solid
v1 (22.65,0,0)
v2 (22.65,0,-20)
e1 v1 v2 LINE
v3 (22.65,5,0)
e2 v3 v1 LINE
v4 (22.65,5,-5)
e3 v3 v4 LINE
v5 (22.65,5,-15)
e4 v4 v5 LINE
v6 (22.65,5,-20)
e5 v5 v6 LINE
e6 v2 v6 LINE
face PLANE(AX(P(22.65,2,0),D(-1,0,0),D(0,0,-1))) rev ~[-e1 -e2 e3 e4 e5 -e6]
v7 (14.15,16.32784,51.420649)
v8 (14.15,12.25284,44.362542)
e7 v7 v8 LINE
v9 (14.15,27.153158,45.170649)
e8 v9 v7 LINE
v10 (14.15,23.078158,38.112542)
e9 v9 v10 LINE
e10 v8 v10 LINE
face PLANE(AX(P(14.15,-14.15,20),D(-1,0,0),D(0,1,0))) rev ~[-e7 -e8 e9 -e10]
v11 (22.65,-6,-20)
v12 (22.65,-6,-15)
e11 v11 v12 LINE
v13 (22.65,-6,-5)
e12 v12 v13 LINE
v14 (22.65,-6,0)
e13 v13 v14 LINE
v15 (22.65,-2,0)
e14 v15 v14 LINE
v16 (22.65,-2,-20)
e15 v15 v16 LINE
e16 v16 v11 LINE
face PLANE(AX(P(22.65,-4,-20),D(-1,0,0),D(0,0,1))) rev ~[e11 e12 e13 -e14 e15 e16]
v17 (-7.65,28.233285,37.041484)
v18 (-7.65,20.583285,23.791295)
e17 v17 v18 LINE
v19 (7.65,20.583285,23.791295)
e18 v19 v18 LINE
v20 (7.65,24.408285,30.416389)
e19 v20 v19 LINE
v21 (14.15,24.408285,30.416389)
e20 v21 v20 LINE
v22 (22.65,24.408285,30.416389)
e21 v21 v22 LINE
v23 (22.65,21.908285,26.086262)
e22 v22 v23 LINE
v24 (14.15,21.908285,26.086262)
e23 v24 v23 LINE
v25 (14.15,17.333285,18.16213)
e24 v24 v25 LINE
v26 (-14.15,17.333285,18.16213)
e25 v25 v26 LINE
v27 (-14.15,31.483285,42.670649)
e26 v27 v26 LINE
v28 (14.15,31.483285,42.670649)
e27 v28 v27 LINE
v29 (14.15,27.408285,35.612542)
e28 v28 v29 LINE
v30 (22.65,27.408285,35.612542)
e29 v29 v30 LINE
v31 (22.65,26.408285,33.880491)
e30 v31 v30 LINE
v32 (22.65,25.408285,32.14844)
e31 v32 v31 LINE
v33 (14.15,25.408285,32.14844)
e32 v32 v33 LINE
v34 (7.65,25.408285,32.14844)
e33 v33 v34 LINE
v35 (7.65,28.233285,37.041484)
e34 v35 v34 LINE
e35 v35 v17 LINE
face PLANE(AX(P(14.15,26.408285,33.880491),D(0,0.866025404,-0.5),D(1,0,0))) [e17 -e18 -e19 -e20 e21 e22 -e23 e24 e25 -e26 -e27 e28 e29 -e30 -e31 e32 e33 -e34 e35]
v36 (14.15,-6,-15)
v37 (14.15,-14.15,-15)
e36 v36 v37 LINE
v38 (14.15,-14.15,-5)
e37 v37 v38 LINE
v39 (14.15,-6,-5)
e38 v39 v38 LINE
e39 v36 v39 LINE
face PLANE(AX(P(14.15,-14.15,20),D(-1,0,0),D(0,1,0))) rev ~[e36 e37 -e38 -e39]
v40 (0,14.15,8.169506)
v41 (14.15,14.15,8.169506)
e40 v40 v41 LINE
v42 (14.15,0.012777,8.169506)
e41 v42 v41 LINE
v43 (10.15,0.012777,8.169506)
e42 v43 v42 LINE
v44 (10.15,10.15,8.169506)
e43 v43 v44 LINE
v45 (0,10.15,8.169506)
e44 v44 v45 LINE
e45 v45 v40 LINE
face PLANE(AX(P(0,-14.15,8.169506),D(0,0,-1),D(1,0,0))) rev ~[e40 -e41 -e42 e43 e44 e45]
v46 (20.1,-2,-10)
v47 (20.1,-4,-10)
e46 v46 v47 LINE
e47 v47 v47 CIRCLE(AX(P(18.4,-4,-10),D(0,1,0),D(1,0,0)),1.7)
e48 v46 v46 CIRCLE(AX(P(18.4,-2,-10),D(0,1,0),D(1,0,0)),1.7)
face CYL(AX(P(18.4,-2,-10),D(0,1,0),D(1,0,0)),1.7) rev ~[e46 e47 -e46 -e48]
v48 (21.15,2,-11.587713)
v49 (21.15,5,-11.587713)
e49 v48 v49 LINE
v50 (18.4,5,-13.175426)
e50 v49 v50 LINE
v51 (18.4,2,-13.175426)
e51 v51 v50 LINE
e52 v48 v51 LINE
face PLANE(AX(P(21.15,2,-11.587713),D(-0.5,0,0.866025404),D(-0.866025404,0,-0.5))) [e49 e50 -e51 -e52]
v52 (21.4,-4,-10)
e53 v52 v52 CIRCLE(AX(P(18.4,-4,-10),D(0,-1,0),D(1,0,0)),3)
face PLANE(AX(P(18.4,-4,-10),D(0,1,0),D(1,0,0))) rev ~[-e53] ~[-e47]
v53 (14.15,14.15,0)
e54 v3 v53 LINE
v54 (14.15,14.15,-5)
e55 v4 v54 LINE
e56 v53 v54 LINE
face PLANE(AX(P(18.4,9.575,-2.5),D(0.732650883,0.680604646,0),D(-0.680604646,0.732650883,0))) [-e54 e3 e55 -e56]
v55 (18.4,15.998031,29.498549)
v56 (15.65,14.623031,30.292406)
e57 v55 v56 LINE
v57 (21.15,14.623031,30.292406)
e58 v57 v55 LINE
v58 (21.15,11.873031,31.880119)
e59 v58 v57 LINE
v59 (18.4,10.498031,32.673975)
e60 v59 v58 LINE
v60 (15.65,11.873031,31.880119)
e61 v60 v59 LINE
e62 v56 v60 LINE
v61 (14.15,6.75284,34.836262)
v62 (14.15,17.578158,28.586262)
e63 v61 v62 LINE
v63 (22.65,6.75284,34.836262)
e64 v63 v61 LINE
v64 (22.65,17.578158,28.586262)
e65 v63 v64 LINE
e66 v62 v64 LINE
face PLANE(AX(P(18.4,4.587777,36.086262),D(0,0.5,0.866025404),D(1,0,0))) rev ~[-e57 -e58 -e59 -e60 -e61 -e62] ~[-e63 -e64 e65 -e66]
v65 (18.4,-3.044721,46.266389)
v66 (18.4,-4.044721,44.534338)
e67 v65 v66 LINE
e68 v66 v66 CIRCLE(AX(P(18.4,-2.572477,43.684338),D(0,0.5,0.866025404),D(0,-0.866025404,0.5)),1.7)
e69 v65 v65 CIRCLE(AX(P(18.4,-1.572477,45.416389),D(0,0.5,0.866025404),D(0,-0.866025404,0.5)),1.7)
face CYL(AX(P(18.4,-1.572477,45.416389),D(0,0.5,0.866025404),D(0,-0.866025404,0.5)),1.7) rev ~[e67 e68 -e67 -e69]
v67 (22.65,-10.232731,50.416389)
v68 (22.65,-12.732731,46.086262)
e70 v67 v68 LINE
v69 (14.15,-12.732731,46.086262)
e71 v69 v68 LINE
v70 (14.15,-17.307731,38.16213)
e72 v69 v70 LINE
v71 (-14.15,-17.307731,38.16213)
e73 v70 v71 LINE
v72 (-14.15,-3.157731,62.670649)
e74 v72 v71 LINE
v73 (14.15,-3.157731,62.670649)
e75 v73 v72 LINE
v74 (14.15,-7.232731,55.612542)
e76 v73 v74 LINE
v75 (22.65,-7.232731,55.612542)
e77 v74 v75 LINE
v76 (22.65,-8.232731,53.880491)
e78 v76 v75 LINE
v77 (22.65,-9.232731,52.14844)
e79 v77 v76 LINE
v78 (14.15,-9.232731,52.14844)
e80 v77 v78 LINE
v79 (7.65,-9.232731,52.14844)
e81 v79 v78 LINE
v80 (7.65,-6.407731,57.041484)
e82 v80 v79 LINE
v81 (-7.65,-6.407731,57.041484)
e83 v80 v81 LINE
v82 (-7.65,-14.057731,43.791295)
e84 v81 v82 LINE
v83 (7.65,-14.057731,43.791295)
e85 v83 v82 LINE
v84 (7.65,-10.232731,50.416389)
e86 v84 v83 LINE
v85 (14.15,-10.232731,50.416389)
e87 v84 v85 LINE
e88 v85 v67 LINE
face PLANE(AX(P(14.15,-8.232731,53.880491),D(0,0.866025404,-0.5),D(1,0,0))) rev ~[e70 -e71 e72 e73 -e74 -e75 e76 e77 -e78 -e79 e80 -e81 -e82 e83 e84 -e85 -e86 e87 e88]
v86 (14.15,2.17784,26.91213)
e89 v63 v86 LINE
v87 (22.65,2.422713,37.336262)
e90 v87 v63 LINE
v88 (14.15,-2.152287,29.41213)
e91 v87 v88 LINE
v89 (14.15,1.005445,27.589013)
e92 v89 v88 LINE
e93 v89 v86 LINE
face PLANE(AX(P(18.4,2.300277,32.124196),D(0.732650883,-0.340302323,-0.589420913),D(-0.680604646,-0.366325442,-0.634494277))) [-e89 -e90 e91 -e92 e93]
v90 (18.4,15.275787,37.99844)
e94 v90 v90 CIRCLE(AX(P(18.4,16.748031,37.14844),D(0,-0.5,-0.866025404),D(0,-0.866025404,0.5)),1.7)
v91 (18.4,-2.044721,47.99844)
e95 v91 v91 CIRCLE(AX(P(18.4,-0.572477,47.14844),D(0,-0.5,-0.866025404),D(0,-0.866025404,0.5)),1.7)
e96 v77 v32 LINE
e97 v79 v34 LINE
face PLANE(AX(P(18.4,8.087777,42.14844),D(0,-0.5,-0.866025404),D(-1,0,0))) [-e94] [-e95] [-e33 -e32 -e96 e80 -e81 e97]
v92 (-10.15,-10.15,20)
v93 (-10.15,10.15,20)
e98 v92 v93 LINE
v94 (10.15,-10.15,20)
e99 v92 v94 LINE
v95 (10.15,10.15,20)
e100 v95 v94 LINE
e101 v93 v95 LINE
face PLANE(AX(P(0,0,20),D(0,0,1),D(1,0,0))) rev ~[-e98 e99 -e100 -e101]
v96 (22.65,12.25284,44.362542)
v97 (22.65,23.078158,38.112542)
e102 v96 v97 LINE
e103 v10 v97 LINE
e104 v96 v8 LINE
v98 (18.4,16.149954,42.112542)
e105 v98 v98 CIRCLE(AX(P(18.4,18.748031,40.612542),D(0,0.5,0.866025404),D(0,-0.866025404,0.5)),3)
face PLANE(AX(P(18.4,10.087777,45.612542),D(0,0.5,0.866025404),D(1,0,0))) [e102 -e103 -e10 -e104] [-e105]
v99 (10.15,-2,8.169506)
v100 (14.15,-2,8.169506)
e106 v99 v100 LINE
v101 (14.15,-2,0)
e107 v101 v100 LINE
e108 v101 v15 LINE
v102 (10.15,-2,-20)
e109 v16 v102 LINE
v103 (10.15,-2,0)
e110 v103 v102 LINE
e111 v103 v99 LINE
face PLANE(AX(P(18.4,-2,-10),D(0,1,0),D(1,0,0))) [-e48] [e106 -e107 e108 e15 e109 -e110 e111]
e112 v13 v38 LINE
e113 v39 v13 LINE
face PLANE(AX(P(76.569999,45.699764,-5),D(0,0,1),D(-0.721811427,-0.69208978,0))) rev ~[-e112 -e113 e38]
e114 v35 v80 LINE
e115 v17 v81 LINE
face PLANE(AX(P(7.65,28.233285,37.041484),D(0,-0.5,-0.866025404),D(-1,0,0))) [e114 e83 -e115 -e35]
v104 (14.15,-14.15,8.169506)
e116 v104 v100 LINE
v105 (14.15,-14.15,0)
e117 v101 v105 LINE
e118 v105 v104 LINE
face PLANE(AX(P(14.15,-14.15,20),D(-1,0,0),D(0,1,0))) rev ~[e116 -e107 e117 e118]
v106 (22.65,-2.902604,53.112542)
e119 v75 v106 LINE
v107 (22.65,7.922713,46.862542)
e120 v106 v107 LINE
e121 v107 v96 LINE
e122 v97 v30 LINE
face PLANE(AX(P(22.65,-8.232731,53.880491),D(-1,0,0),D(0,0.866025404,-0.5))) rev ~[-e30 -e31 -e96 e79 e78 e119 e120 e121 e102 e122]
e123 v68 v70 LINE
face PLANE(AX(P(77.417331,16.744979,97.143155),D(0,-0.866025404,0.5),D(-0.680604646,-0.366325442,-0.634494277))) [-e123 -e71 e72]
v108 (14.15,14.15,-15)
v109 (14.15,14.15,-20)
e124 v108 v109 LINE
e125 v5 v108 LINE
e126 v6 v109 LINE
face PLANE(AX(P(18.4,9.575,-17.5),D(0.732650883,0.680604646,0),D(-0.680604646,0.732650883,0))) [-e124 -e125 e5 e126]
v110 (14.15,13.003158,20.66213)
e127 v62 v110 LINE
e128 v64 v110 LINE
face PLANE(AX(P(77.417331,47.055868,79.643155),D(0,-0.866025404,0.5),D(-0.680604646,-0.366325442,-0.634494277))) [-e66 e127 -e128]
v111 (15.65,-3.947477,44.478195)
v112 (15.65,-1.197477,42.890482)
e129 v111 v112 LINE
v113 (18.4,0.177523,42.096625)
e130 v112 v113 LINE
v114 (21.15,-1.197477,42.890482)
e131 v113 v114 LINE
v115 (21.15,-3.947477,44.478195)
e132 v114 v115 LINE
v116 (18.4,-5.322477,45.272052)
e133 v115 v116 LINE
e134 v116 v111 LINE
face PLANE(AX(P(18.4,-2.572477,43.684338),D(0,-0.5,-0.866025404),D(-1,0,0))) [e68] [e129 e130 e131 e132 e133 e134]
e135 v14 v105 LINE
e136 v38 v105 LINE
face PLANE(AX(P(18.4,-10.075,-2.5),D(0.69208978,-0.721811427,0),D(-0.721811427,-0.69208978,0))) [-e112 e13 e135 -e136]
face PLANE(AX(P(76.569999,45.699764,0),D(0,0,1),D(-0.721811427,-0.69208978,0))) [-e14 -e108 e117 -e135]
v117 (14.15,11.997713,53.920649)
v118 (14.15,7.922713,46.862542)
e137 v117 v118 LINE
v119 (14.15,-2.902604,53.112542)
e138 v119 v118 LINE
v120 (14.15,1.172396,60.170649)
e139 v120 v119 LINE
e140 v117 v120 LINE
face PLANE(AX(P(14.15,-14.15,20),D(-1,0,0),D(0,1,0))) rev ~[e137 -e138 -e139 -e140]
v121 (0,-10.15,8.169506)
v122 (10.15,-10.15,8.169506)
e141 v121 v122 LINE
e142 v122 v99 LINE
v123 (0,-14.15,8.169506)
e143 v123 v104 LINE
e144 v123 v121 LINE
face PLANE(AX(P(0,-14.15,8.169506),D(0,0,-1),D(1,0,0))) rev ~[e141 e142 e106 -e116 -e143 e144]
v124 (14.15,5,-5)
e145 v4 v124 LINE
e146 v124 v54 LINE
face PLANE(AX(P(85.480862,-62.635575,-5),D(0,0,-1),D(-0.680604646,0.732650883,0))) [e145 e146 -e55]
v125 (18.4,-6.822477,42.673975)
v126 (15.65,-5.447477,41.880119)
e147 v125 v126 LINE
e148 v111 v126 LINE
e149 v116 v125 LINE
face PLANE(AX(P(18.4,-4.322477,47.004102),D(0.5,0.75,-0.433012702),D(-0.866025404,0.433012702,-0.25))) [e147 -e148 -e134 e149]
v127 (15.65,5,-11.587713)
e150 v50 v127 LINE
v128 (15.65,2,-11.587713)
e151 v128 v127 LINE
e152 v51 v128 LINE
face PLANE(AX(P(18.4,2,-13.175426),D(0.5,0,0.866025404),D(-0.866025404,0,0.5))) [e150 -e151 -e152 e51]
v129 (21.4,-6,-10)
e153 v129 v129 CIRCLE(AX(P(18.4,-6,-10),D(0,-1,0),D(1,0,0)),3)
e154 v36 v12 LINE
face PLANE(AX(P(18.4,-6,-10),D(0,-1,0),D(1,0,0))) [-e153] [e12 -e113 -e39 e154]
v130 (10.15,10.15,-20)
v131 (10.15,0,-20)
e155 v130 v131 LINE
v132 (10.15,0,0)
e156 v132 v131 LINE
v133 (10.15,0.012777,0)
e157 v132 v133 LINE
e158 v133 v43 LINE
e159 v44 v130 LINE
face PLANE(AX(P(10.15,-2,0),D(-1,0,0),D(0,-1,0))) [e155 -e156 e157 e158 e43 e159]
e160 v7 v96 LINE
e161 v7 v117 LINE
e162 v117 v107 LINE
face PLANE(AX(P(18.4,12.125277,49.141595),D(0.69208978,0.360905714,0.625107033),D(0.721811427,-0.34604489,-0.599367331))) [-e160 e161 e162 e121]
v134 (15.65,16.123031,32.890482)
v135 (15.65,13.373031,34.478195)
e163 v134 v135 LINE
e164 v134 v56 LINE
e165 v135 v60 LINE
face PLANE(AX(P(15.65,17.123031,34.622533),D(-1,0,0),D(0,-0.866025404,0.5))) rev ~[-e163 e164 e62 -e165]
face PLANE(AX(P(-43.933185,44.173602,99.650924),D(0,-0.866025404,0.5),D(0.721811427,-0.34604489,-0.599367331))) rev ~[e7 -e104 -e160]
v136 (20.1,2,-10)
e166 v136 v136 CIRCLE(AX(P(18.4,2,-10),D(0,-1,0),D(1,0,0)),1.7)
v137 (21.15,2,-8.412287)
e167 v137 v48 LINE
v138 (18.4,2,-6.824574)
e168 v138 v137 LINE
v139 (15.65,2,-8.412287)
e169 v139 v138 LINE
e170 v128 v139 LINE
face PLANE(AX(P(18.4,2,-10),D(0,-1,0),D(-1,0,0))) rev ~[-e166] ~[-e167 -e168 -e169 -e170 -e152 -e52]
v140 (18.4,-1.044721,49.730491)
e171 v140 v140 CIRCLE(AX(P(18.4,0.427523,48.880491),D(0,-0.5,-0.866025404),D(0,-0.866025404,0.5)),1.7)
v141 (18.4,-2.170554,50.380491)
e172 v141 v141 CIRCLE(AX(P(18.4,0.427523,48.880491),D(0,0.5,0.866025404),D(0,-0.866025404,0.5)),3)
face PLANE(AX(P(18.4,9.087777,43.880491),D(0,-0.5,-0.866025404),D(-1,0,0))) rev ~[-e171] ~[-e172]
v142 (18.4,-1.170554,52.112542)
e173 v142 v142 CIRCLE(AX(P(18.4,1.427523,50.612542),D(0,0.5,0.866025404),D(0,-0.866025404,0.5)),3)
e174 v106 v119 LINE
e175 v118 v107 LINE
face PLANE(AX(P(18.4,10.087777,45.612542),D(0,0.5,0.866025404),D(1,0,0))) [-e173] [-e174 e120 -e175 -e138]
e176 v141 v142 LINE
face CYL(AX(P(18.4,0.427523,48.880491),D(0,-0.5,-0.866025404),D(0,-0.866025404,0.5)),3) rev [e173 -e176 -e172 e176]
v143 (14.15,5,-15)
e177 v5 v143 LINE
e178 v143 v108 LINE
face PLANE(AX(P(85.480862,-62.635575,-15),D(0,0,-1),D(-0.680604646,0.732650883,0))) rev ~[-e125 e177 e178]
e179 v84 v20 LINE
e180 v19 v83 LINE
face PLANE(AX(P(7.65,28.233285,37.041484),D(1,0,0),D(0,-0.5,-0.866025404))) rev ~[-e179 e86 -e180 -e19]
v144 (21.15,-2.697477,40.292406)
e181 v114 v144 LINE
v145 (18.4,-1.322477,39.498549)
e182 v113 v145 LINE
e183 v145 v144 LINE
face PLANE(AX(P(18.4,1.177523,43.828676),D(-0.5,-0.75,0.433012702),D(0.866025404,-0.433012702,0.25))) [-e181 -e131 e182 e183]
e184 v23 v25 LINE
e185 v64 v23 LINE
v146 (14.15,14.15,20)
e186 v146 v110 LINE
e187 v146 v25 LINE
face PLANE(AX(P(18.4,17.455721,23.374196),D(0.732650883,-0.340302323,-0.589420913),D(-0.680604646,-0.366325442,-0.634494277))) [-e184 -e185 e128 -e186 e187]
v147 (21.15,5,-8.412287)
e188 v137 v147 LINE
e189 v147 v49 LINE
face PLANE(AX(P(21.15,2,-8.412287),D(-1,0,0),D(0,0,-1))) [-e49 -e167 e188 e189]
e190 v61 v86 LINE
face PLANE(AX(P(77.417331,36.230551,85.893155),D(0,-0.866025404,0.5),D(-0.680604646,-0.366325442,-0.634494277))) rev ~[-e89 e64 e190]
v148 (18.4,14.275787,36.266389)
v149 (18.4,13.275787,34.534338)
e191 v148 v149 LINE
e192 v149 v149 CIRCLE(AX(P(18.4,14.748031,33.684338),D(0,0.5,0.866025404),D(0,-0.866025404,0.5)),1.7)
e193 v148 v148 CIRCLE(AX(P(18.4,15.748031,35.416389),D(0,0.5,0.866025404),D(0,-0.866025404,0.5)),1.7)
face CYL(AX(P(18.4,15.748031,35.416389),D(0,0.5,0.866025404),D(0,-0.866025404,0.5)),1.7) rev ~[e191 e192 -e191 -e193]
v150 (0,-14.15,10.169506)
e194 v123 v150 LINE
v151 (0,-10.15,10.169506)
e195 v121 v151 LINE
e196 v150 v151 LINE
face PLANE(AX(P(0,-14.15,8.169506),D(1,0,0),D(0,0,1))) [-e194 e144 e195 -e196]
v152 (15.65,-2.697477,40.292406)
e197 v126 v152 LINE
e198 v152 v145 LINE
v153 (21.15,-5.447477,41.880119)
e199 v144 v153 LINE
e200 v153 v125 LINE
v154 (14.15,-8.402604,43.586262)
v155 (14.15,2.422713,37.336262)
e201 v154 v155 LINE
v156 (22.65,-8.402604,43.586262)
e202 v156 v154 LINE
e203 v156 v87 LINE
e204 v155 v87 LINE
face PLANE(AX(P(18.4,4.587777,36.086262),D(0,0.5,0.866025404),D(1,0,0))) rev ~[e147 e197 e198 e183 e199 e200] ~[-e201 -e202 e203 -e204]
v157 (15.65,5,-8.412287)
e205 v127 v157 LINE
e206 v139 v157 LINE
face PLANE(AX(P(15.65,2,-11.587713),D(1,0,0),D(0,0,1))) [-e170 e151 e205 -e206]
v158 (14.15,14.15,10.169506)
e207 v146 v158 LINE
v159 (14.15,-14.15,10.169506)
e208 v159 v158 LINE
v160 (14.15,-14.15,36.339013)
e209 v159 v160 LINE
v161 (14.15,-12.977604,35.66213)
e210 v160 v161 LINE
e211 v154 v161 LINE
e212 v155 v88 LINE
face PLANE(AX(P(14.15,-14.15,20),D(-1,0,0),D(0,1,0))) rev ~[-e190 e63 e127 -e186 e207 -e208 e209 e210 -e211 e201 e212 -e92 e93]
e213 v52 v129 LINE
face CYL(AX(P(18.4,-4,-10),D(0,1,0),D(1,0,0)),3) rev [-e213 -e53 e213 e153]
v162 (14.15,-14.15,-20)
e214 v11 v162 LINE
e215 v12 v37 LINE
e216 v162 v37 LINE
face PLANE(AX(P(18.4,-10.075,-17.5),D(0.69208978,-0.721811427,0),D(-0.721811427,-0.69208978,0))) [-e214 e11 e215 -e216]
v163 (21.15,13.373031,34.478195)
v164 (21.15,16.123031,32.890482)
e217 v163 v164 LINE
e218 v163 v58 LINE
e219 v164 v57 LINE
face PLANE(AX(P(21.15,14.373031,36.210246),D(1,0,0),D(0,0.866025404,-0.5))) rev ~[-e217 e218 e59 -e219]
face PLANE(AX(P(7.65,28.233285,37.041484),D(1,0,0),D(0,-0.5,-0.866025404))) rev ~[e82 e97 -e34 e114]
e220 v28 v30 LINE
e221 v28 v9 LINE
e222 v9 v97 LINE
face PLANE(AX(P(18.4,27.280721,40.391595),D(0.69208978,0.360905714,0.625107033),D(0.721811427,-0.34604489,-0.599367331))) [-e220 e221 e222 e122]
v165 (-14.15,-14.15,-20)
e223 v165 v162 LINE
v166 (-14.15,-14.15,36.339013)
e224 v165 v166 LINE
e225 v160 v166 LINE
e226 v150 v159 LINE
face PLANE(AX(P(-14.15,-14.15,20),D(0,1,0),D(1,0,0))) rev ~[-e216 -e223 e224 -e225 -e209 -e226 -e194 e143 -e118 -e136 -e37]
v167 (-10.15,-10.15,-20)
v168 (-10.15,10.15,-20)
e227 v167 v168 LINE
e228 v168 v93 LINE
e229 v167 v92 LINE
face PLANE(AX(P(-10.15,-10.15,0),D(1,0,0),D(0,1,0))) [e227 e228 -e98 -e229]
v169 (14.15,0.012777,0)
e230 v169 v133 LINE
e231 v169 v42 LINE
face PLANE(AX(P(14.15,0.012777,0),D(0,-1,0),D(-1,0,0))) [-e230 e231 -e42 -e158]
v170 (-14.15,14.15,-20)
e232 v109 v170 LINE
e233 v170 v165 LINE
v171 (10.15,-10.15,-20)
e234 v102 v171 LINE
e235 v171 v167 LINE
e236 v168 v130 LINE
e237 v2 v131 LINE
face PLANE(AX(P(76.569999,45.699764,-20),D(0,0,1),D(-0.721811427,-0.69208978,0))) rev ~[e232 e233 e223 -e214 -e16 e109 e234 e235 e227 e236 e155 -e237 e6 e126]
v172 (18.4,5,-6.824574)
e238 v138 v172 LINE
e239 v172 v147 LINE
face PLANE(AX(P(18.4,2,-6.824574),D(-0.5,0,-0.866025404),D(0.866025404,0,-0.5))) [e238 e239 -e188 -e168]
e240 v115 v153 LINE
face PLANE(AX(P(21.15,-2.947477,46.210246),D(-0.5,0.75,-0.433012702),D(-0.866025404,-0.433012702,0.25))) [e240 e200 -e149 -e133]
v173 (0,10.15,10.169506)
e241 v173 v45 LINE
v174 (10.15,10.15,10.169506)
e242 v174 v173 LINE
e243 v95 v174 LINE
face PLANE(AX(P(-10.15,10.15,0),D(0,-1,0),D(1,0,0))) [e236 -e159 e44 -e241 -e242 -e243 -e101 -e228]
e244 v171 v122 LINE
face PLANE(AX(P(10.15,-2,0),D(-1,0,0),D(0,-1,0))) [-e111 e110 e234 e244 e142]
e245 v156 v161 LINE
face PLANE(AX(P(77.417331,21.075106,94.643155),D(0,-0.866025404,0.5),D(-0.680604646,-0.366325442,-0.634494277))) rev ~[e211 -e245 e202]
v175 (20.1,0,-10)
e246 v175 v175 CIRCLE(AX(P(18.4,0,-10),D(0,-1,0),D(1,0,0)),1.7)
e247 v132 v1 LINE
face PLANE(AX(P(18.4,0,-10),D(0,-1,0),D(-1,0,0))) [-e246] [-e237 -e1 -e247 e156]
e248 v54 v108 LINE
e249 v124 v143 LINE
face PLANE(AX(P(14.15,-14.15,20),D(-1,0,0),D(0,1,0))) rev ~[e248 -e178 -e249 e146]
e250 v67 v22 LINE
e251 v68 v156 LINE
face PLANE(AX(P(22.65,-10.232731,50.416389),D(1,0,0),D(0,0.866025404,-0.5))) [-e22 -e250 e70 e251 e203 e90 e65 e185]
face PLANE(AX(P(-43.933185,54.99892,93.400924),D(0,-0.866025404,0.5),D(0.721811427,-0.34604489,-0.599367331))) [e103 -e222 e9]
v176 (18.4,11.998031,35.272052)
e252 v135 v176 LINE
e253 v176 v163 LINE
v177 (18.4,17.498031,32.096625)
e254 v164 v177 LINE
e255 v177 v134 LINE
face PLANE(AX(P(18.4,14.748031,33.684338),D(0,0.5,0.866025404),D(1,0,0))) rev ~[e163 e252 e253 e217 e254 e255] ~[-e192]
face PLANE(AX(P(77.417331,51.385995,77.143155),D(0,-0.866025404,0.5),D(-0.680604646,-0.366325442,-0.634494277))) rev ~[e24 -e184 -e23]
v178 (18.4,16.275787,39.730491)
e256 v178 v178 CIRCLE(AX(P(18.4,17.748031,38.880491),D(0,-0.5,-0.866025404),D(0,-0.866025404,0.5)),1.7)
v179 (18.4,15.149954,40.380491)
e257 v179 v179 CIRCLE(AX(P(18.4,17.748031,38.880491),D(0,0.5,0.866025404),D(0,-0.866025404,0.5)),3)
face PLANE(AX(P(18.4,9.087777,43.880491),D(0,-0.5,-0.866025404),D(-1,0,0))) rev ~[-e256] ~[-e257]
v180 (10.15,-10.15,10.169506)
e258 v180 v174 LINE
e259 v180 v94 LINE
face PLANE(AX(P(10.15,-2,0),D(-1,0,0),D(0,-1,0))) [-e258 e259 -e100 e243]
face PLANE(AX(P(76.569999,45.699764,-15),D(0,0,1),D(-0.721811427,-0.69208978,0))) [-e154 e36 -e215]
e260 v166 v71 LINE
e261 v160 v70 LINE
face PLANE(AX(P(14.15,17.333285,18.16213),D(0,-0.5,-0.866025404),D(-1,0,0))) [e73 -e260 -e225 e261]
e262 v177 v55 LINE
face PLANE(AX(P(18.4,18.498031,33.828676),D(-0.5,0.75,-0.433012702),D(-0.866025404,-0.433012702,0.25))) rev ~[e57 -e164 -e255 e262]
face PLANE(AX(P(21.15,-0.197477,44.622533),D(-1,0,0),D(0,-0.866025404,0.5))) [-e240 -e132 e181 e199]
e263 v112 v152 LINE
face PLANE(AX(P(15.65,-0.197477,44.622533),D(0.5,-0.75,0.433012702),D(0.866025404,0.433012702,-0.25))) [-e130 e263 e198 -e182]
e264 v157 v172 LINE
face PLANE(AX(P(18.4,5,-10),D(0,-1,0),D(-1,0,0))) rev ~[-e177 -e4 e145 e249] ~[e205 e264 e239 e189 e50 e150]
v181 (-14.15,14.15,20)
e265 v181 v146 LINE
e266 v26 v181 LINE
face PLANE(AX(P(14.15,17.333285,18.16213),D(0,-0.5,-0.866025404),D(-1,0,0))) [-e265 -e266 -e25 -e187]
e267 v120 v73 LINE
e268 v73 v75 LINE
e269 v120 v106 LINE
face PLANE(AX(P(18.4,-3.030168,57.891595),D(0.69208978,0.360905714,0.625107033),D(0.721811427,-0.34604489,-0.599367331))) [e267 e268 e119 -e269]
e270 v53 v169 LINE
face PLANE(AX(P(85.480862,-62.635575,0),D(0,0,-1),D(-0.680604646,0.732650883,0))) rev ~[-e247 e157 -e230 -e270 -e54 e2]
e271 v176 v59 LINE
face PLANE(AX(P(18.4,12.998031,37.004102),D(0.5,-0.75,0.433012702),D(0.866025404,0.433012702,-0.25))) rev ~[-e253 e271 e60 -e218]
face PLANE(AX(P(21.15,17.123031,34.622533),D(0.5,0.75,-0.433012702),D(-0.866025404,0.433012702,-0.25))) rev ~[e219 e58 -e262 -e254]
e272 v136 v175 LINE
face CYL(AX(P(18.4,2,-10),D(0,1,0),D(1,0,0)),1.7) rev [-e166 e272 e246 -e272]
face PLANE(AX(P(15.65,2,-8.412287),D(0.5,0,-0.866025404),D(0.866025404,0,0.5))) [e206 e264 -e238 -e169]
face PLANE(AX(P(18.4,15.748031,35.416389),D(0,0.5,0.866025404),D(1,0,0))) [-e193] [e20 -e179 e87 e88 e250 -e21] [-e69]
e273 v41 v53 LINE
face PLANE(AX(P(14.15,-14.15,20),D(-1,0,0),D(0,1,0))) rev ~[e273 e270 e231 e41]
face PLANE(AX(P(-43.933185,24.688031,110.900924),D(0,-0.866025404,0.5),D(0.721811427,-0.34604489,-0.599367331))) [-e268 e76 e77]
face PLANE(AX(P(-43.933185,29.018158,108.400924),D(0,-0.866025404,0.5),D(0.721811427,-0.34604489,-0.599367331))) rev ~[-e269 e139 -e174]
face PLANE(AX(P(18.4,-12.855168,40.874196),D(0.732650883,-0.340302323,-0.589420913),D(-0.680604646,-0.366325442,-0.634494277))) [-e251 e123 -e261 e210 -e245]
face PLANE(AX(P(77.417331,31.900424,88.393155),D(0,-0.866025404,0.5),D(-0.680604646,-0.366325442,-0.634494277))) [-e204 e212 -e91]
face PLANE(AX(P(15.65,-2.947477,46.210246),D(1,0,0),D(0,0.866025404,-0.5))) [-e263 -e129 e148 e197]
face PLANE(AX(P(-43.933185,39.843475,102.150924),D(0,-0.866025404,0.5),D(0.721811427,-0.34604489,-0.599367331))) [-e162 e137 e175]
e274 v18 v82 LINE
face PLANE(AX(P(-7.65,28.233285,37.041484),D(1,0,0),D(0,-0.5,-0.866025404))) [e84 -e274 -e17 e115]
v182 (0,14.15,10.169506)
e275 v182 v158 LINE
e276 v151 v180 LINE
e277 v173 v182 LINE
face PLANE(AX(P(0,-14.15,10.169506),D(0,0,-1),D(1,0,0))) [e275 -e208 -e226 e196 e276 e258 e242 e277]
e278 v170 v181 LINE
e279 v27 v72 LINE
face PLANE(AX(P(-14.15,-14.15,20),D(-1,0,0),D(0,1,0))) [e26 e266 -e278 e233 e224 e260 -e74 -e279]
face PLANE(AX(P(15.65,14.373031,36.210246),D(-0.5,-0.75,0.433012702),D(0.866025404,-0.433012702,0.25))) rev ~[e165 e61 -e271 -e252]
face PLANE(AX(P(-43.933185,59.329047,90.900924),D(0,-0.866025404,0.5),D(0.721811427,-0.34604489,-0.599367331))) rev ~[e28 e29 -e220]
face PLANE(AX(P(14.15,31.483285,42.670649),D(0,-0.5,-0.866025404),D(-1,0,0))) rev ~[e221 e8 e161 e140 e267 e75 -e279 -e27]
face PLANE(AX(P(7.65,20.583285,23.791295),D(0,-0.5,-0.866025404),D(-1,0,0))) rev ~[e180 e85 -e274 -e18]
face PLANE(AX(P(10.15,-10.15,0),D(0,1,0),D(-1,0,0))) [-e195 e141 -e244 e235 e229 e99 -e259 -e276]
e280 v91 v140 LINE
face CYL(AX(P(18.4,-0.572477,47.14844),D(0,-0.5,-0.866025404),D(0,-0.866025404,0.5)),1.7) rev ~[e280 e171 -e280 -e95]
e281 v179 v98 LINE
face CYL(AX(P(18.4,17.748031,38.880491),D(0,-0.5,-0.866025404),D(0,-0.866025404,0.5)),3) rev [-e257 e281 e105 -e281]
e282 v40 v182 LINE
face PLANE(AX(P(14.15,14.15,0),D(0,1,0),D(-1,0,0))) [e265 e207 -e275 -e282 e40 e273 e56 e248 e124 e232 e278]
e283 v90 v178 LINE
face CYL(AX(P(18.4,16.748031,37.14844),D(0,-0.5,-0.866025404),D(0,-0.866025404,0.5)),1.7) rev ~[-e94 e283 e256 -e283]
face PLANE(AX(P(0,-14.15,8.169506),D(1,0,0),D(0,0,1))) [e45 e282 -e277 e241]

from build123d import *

# Parameters (mm, degrees)
ESQUISSE1_W                = 28.3
ESQUISSE1_H                = 28.3
ESQUISSE1_W_2              = 20.3
ESQUISSE1_H_2              = 20.3
ESQUISSE1_W_3              = 4
ESQUISSE1_H_3              = 2
BOSS_EXTRU_1_DEPTH         = 20
BOSS_EXTRU_7_DEPTH         = 20
ESQUISSE2_W                = 8.5
ESQUISSE2_H                = 20
ESQUISSE2_R                = 1.7
BOSS_EXTRU_2_DEPTH         = 2
ESQUISSE2_3_W              = 8.5
ESQUISSE2_3_H              = 20
BOSS_EXTRU_3_DEPTH         = 3
ESQUISSE3_W                = 8.5
ESQUISSE3_H                = 20
ESQUISSE3_R                = 1.7
BOSS_EXTRU_4_DEPTH         = 2
ESQUISSE5_W                = 8.5
ESQUISSE5_H                = 20
ESQUISSE5_R                = 3
BOSS_EXTRU_5_DEPTH         = 2
BOSS_EXTRU_6_DEPTH         = 20
BOSS_EXTRU_6_DEPTH_BACK    = 20
ESQUISSE6_W                = 28.3
ESQUISSE6_H                = 28.3
ESQUISSE6_W_2              = 15.3
ESQUISSE6_H_2              = 15.3
BOSS_EXTRU_12_REACH        = 59.663
ESQUISSE20_W               = 28.3
ESQUISSE20_H               = 28.3
ENL_V_MAT_EXTRU_1_REACH    = 81.469
ESQUISSE7_W                = 6.5
ESQUISSE7_H                = 2
ENL_V_MAT_EXTRU_2_REACH    = 82.765
ESQUISSE8_W                = 14.15
ESQUISSE8_H                = 2
ESQUISSE9_W                = 8.5
ESQUISSE9_H                = 40
BOSS_EXTRU_8_DEPTH         = 5
ESQUISSE9_4_R              = 1.7
BOSS_EXTRU_9_DEPTH         = 2
ESQUISSE10_W               = 8.5
ESQUISSE10_H               = 40
ESQUISSE10_R               = 1.7
BOSS_EXTRU_10_DEPTH        = 2
ESQUISSE11_W               = 8.5
ESQUISSE11_H               = 40
ESQUISSE11_R               = 3
BOSS_EXTRU_11_DEPTH        = 2
NERVURE4_REACH             = 81.469
ESQUISSE14_WALL_W          = 172.71321229
ESQUISSE14_WALL_H          = 5
NERVURE10_REACH            = 81.469
ESQUISSE16_WALL_W          = 173.426178518
ESQUISSE16_WALL_H          = 5
R_P_TITION_LIN_AIRE1_COUNT = 3
R_P_TITION_LIN_AIRE1_PITCH = 17.5
NERVURE11_REACH            = 93.316
ESQUISSE17_WALL_W          = 197.121376998
ESQUISSE17_WALL_H          = 5
NERVURE17_REACH            = 75.701
ESQUISSE19_WALL_W          = 161.177827304
ESQUISSE19_WALL_H          = 5
R_P_TITION_LIN_AIRE2_COUNT = 2
R_P_TITION_LIN_AIRE2_PITCH = 15
R_P_TITION_LIN_AIRE3_COUNT = 2
R_P_TITION_LIN_AIRE3_PITCH = 15
ENL_V_MAT_EXTRU_3_REACH    = 75.701
ESQUISSE21_W               = 4
ESQUISSE21_H               = 2.012776607


with BuildPart() as part:
    # Esquisse1 → Boss.-Extru.1 (new body)
    # profile 1 of 2: a face of its own
    with BuildSketch(Plane.XY):
        Rectangle(ESQUISSE1_W, ESQUISSE1_H)
        Rectangle(ESQUISSE1_W_2, ESQUISSE1_H_2, mode=Mode.SUBTRACT)
    # profile 2 of 2: a face of its own
    with BuildSketch(Plane.XY):
        with Locations((12.15, -1)):
            Rectangle(ESQUISSE1_W_3, ESQUISSE1_H_3)
    extrude(amount=BOSS_EXTRU_1_DEPTH)

    # Esquisse1<3> → Boss.-Extru.7 (add)
    with BuildSketch(Plane.XY):
        Polygon((14.15, 14.15), (-14.15, 14.15), (-14.15, -14.15), (14.15, -14.15), (14.15, -2), (10.15, -2), (10.15, -10.15), (-10.15, -10.15), (-10.15, 10.15), (10.15, 10.15), (10.15, 0), (14.15, 0), align=None)
    extrude(amount=-BOSS_EXTRU_7_DEPTH)

    # Esquisse2 → Boss.-Extru.2 (add)
    with BuildSketch(Plane(origin=(0, 2, 0), x_dir=(-1, 0, 0), z_dir=(0, -1, 0))):
        with Locations((-18.4, 10)):
            Rectangle(ESQUISSE2_W, ESQUISSE2_H)
        with Locations(Location((-18.4, 10, 0), (0, 0, 180))):
            Circle(ESQUISSE2_R, mode=Mode.SUBTRACT)
    extrude(amount=BOSS_EXTRU_2_DEPTH)

    # Esquisse2<3> → Boss.-Extru.3 (add)
    with BuildSketch(Plane(origin=(0, 2, 0), x_dir=(-1, 0, 0), z_dir=(0, -1, 0))):
        with Locations((-18.4, 10)):
            Rectangle(ESQUISSE2_3_W, ESQUISSE2_3_H)
        Polygon((-15.65, 11.58771324), (-15.65, 8.41228676), (-18.4, 6.824573519), (-21.15, 8.41228676), (-21.15, 11.58771324), (-18.4, 13.175426481), align=None, mode=Mode.SUBTRACT)
    extrude(amount=-BOSS_EXTRU_3_DEPTH)

    # Esquisse3 → Boss.-Extru.4 (add)
    with BuildSketch(Plane(origin=(0, -2, 0), x_dir=(1, 0, 0), z_dir=(0, 1, 0))):
        with Locations((18.4, 10)):
            Rectangle(ESQUISSE3_W, ESQUISSE3_H)
        with Locations((18.4, 10)):
            Circle(ESQUISSE3_R, mode=Mode.SUBTRACT)
    extrude(amount=-BOSS_EXTRU_4_DEPTH)

    # Esquisse5 → Boss.-Extru.5 (add)
    with BuildSketch(Plane.XZ.offset(4)):
        with Locations((18.4, -10)):
            Rectangle(ESQUISSE5_W, ESQUISSE5_H)
        with Locations((18.4, -10)):
            Circle(ESQUISSE5_R, mode=Mode.SUBTRACT)
    extrude(amount=BOSS_EXTRU_5_DEPTH)


with BuildPart() as body_2:
    # Esquisse6 → Boss.-Extru.6 (new, two sides: drawn at the far end of the back side and taken through both)
    with BuildSketch(Plane(origin=(0, -11.88296393, 7.558102729), x_dir=(-1, 0, 0), z_dir=(0, -0.8660254037844382, 0.5000000000000011)).offset(-BOSS_EXTRU_6_DEPTH_BACK)):
        with Locations((0, -37.941481073)):
            Rectangle(ESQUISSE6_W, ESQUISSE6_H)
        with Locations((0, -37.941481073)):
            Rectangle(ESQUISSE6_W_2, ESQUISSE6_H_2, mode=Mode.SUBTRACT)
    extrude(amount=BOSS_EXTRU_6_DEPTH + BOSS_EXTRU_6_DEPTH_BACK)

    # Esquisse20 → Boss.-Extru.12 (add, up to next)
    with BuildSketch(Plane.XY.offset(20), mode=Mode.PRIVATE) as boss_extru_12_sk1:
        Rectangle(ESQUISSE20_W, ESQUISSE20_H)
    boss_extru_12_tool1 = extrude(boss_extru_12_sk1.sketch, amount=BOSS_EXTRU_12_REACH, mode=Mode.PRIVATE) - body_2.part

    add(part.part)  # Boss.-Extru.12 merges part
    add(boss_extru_12_tool1.solids().sort_by_distance((0, 0, 20))[0])

    # Esquisse7 → Enlèv. mat.-Extru.1 (cut, up to next)
    with BuildSketch(Plane(origin=(0, -29.505485507, 17.035), x_dir=(1, 0, 0), z_dir=(0, -0.866025403784438, 0.5000000000000011)), mode=Mode.PRIVATE) as enl_v_mat_extru_1_sk1:
        with Locations((10.9, 39.545508076)):
            Rectangle(ESQUISSE7_W, ESQUISSE7_H)
    enl_v_mat_extru_1_tool1 = extrude(enl_v_mat_extru_1_sk1.sketch, amount=-ENL_V_MAT_EXTRU_1_REACH, mode=Mode.PRIVATE) & body_2.part
    add(enl_v_mat_extru_1_tool1.solids().sort_by_distance((10.9, -9.732731, 51.282415))[0], mode=Mode.SUBTRACT)

    # Esquisse8 → Enlèv. mat.-Extru.2 (cut, up to next)
    with BuildSketch(Plane.XZ.offset(14.15), mode=Mode.PRIVATE) as enl_v_mat_extru_2_sk1:
        with Locations((7.075, 9.169506309)):
            Rectangle(ESQUISSE8_W, ESQUISSE8_H)
    enl_v_mat_extru_2_tool1 = extrude(enl_v_mat_extru_2_sk1.sketch, amount=-ENL_V_MAT_EXTRU_2_REACH, mode=Mode.PRIVATE) & body_2.part
    add(enl_v_mat_extru_2_tool1.solids().sort_by_distance((7.075, -14.15, 9.169506))[0], mode=Mode.SUBTRACT)

    # Esquisse9 → Boss.-Extru.8 (add)
    with BuildSketch(Plane(origin=(0, 19.272754038, 33.381389195), x_dir=(1, 0, 0), z_dir=(0, 0.5000000000000011, 0.866025403784438))):
        with Locations((18.4, -14.07)):
            Rectangle(ESQUISSE9_W, ESQUISSE9_H)
        Polygon((18.4, -7.245426481), (21.15, -5.65771324), (21.15, -2.48228676), (18.4, -0.894573519), (15.65, -2.48228676), (15.65, -5.65771324), align=None, mode=Mode.SUBTRACT)
        Polygon((18.4, -20.894573519), (21.15, -22.48228676), (21.15, -25.65771324), (18.4, -27.245426481), (15.65, -25.65771324), (15.65, -22.48228676), align=None, mode=Mode.SUBTRACT)
    extrude(amount=-BOSS_EXTRU_8_DEPTH)

    # Esquisse9<4> → Boss.-Extru.9 (add)
    # profile 1 of 2: a face of its own
    with BuildSketch(Plane(origin=(0, 19.272754038, 33.381389195), x_dir=(1, 0, 0), z_dir=(0, 0.5000000000000011, 0.866025403784438))):
        Polygon((15.65, -5.65771324), (18.4, -7.245426481), (21.15, -5.65771324), (21.15, -2.48228676), (18.4, -0.894573519), (15.65, -2.48228676), align=None)
        with Locations(Location((18.4, -4.07, 0), (0, 0, 270))):
            Circle(ESQUISSE9_4_R, mode=Mode.SUBTRACT)
    # profile 2 of 2: a face of its own
    with BuildSketch(Plane(origin=(0, 19.272754038, 33.381389195), x_dir=(1, 0, 0), z_dir=(0, 0.5000000000000011, 0.866025403784438))):
        Polygon((21.15, -22.48228676), (21.15, -25.65771324), (18.4, -27.245426481), (15.65, -25.65771324), (15.65, -22.48228676), (18.4, -20.894573519), align=None)
        with Locations(Location((18.4, -24.07, 0), (0, 0, 270))):
            Circle(ESQUISSE9_4_R, mode=Mode.SUBTRACT)
    extrude(amount=-BOSS_EXTRU_9_DEPTH)

    # Esquisse10 → Boss.-Extru.10 (add)
    with BuildSketch(Plane(origin=(0, 20.272754038, 35.113440003), x_dir=(-1, 0, 0), z_dir=(0, -0.5000000000000011, -0.866025403784438))):
        with Locations((-18.4, -14.07)):
            Rectangle(ESQUISSE10_W, ESQUISSE10_H)
        with Locations(Location((-18.4, -24.07, 0), (0, 0, 270))):
            Circle(ESQUISSE10_R, mode=Mode.SUBTRACT)
        with Locations(Location((-18.4, -4.07, 0), (0, 0, 270))):
            Circle(ESQUISSE10_R, mode=Mode.SUBTRACT)
    extrude(amount=-BOSS_EXTRU_10_DEPTH)

    # Esquisse11 → Boss.-Extru.11 (add)
    with BuildSketch(Plane(origin=(0, 21.272754038, 36.84549081), x_dir=(1, 0, 0), z_dir=(0, 0.5000000000000011, 0.866025403784438))):
        with Locations((18.4, -14.07)):
            Rectangle(ESQUISSE11_W, ESQUISSE11_H)
        with Locations(Location((18.4, -4.07, 0), (0, 0, 270))):
            Circle(ESQUISSE11_R, mode=Mode.SUBTRACT)
        with Locations(Location((18.4, -24.07, 0), (0, 0, 270))):
            Circle(ESQUISSE11_R, mode=Mode.SUBTRACT)
    extrude(amount=BOSS_EXTRU_11_DEPTH)

    # Esquisse14 wall → Nervure4 (add, up to next)
    with BuildSketch(Plane(origin=(18.4, -5.195231469, 59.141595139), x_dir=(0.721811427089, -0.346044890046, -0.599367331272), z_dir=(0.692089780103, 0.360905713545, 0.625107032601)), mode=Mode.PRIVATE) as nervure4_sk1:
        with Locations((0, 2.5)):
            Rectangle(ESQUISSE14_WALL_W, ESQUISSE14_WALL_H)
    nervure4_tool1 = extrude(nervure4_sk1.sketch, amount=-NERVURE4_REACH, mode=Mode.PRIVATE) - body_2.part
    nervure4 = nervure4_tool1.solids().sort_by_distance((18.4, -5.195231469, 59.141595139))[0]
    add(nervure4)

    # Esquisse16 wall → Nervure10 (add, up to next)
    with BuildSketch(Plane(origin=(18.4, -15.020231469, 42.124195954), x_dir=(-0.680604645529, -0.366325441564, -0.634494276844), z_dir=(0.732650883085, -0.340302322764, -0.589420912962)), mode=Mode.PRIVATE) as nervure10_sk1:
        with Locations((0, 2.5)):
            Rectangle(ESQUISSE16_WALL_W, ESQUISSE16_WALL_H)
    nervure10_tool1 = extrude(nervure10_sk1.sketch, amount=-NERVURE10_REACH, mode=Mode.PRIVATE) - body_2.part
    nervure10 = nervure10_tool1.solids().sort_by_distance((18.4, -15.020231469, 42.124195954))[0]
    add(nervure10)

    # Répétition linéaire1: Nervure4, Nervure10 ×3
    with Locations(*[Vector(0, 0.8660254037844382, -0.500000000000001) * (i * R_P_TITION_LIN_AIRE1_PITCH) for i in range(1, R_P_TITION_LIN_AIRE1_COUNT)]):
        add(nervure4)
        add(nervure10)

    # Esquisse17 wall → Nervure11 (add, up to next)
    with BuildSketch(Plane(origin=(18.4, 9.575, -20), x_dir=(-0.680604645507, 0.732650883105, 0), z_dir=(0.732650883105, 0.680604645507, 0)), mode=Mode.PRIVATE) as nervure11_sk1:
        with Locations((0, 2.5)):
            Rectangle(ESQUISSE17_WALL_W, ESQUISSE17_WALL_H)
    nervure11_tool1 = extrude(nervure11_sk1.sketch, amount=-NERVURE11_REACH, mode=Mode.PRIVATE) - body_2.part
    nervure11 = nervure11_tool1.solids().sort_by_distance((18.4, 9.575, -20))[0]
    add(nervure11)

    # Esquisse19 wall → Nervure17 (add, up to next)
    with BuildSketch(Plane(origin=(18.4, -10.075, 0), x_dir=(-0.721811427095, -0.692089780097, 0), z_dir=(0.692089780097, -0.721811427095, 0)), mode=Mode.PRIVATE) as nervure17_sk1:
        with Locations((0, 2.5)):
            Rectangle(ESQUISSE19_WALL_W, ESQUISSE19_WALL_H)
    nervure17_tool1 = extrude(nervure17_sk1.sketch, amount=-NERVURE17_REACH, mode=Mode.PRIVATE) - body_2.part
    nervure17 = nervure17_tool1.solids().sort_by_distance((18.4, -10.075, 0))[0]
    add(nervure17)

    # Répétition linéaire2: Nervure17 ×2
    with Locations(*[(0, 0, -i * R_P_TITION_LIN_AIRE2_PITCH) for i in range(1, R_P_TITION_LIN_AIRE2_COUNT)]):
        add(nervure17)

    # Répétition linéaire3: Nervure11 ×2
    with Locations(*[(0, 0, i * R_P_TITION_LIN_AIRE3_PITCH) for i in range(1, R_P_TITION_LIN_AIRE3_COUNT)]):
        add(nervure11)

    # Esquisse21 → Enlèv. mat.-Extru.3 (cut, up to next)
    with BuildSketch(Plane(origin=(0, 0, 0), x_dir=(-1, 0, 0), z_dir=(0, 0, -1)), mode=Mode.PRIVATE) as enl_v_mat_extru_3_sk1:
        with Locations((-12.15, -0.993611697)):
            Rectangle(ESQUISSE21_W, ESQUISSE21_H)
    enl_v_mat_extru_3_tool1 = extrude(enl_v_mat_extru_3_sk1.sketch, amount=-ENL_V_MAT_EXTRU_3_REACH, mode=Mode.PRIVATE) & body_2.part
    add(enl_v_mat_extru_3_tool1.solids().sort_by_distance((12.15, -0.993612, 0))[0], mode=Mode.SUBTRACT)


solid = body_2.part
